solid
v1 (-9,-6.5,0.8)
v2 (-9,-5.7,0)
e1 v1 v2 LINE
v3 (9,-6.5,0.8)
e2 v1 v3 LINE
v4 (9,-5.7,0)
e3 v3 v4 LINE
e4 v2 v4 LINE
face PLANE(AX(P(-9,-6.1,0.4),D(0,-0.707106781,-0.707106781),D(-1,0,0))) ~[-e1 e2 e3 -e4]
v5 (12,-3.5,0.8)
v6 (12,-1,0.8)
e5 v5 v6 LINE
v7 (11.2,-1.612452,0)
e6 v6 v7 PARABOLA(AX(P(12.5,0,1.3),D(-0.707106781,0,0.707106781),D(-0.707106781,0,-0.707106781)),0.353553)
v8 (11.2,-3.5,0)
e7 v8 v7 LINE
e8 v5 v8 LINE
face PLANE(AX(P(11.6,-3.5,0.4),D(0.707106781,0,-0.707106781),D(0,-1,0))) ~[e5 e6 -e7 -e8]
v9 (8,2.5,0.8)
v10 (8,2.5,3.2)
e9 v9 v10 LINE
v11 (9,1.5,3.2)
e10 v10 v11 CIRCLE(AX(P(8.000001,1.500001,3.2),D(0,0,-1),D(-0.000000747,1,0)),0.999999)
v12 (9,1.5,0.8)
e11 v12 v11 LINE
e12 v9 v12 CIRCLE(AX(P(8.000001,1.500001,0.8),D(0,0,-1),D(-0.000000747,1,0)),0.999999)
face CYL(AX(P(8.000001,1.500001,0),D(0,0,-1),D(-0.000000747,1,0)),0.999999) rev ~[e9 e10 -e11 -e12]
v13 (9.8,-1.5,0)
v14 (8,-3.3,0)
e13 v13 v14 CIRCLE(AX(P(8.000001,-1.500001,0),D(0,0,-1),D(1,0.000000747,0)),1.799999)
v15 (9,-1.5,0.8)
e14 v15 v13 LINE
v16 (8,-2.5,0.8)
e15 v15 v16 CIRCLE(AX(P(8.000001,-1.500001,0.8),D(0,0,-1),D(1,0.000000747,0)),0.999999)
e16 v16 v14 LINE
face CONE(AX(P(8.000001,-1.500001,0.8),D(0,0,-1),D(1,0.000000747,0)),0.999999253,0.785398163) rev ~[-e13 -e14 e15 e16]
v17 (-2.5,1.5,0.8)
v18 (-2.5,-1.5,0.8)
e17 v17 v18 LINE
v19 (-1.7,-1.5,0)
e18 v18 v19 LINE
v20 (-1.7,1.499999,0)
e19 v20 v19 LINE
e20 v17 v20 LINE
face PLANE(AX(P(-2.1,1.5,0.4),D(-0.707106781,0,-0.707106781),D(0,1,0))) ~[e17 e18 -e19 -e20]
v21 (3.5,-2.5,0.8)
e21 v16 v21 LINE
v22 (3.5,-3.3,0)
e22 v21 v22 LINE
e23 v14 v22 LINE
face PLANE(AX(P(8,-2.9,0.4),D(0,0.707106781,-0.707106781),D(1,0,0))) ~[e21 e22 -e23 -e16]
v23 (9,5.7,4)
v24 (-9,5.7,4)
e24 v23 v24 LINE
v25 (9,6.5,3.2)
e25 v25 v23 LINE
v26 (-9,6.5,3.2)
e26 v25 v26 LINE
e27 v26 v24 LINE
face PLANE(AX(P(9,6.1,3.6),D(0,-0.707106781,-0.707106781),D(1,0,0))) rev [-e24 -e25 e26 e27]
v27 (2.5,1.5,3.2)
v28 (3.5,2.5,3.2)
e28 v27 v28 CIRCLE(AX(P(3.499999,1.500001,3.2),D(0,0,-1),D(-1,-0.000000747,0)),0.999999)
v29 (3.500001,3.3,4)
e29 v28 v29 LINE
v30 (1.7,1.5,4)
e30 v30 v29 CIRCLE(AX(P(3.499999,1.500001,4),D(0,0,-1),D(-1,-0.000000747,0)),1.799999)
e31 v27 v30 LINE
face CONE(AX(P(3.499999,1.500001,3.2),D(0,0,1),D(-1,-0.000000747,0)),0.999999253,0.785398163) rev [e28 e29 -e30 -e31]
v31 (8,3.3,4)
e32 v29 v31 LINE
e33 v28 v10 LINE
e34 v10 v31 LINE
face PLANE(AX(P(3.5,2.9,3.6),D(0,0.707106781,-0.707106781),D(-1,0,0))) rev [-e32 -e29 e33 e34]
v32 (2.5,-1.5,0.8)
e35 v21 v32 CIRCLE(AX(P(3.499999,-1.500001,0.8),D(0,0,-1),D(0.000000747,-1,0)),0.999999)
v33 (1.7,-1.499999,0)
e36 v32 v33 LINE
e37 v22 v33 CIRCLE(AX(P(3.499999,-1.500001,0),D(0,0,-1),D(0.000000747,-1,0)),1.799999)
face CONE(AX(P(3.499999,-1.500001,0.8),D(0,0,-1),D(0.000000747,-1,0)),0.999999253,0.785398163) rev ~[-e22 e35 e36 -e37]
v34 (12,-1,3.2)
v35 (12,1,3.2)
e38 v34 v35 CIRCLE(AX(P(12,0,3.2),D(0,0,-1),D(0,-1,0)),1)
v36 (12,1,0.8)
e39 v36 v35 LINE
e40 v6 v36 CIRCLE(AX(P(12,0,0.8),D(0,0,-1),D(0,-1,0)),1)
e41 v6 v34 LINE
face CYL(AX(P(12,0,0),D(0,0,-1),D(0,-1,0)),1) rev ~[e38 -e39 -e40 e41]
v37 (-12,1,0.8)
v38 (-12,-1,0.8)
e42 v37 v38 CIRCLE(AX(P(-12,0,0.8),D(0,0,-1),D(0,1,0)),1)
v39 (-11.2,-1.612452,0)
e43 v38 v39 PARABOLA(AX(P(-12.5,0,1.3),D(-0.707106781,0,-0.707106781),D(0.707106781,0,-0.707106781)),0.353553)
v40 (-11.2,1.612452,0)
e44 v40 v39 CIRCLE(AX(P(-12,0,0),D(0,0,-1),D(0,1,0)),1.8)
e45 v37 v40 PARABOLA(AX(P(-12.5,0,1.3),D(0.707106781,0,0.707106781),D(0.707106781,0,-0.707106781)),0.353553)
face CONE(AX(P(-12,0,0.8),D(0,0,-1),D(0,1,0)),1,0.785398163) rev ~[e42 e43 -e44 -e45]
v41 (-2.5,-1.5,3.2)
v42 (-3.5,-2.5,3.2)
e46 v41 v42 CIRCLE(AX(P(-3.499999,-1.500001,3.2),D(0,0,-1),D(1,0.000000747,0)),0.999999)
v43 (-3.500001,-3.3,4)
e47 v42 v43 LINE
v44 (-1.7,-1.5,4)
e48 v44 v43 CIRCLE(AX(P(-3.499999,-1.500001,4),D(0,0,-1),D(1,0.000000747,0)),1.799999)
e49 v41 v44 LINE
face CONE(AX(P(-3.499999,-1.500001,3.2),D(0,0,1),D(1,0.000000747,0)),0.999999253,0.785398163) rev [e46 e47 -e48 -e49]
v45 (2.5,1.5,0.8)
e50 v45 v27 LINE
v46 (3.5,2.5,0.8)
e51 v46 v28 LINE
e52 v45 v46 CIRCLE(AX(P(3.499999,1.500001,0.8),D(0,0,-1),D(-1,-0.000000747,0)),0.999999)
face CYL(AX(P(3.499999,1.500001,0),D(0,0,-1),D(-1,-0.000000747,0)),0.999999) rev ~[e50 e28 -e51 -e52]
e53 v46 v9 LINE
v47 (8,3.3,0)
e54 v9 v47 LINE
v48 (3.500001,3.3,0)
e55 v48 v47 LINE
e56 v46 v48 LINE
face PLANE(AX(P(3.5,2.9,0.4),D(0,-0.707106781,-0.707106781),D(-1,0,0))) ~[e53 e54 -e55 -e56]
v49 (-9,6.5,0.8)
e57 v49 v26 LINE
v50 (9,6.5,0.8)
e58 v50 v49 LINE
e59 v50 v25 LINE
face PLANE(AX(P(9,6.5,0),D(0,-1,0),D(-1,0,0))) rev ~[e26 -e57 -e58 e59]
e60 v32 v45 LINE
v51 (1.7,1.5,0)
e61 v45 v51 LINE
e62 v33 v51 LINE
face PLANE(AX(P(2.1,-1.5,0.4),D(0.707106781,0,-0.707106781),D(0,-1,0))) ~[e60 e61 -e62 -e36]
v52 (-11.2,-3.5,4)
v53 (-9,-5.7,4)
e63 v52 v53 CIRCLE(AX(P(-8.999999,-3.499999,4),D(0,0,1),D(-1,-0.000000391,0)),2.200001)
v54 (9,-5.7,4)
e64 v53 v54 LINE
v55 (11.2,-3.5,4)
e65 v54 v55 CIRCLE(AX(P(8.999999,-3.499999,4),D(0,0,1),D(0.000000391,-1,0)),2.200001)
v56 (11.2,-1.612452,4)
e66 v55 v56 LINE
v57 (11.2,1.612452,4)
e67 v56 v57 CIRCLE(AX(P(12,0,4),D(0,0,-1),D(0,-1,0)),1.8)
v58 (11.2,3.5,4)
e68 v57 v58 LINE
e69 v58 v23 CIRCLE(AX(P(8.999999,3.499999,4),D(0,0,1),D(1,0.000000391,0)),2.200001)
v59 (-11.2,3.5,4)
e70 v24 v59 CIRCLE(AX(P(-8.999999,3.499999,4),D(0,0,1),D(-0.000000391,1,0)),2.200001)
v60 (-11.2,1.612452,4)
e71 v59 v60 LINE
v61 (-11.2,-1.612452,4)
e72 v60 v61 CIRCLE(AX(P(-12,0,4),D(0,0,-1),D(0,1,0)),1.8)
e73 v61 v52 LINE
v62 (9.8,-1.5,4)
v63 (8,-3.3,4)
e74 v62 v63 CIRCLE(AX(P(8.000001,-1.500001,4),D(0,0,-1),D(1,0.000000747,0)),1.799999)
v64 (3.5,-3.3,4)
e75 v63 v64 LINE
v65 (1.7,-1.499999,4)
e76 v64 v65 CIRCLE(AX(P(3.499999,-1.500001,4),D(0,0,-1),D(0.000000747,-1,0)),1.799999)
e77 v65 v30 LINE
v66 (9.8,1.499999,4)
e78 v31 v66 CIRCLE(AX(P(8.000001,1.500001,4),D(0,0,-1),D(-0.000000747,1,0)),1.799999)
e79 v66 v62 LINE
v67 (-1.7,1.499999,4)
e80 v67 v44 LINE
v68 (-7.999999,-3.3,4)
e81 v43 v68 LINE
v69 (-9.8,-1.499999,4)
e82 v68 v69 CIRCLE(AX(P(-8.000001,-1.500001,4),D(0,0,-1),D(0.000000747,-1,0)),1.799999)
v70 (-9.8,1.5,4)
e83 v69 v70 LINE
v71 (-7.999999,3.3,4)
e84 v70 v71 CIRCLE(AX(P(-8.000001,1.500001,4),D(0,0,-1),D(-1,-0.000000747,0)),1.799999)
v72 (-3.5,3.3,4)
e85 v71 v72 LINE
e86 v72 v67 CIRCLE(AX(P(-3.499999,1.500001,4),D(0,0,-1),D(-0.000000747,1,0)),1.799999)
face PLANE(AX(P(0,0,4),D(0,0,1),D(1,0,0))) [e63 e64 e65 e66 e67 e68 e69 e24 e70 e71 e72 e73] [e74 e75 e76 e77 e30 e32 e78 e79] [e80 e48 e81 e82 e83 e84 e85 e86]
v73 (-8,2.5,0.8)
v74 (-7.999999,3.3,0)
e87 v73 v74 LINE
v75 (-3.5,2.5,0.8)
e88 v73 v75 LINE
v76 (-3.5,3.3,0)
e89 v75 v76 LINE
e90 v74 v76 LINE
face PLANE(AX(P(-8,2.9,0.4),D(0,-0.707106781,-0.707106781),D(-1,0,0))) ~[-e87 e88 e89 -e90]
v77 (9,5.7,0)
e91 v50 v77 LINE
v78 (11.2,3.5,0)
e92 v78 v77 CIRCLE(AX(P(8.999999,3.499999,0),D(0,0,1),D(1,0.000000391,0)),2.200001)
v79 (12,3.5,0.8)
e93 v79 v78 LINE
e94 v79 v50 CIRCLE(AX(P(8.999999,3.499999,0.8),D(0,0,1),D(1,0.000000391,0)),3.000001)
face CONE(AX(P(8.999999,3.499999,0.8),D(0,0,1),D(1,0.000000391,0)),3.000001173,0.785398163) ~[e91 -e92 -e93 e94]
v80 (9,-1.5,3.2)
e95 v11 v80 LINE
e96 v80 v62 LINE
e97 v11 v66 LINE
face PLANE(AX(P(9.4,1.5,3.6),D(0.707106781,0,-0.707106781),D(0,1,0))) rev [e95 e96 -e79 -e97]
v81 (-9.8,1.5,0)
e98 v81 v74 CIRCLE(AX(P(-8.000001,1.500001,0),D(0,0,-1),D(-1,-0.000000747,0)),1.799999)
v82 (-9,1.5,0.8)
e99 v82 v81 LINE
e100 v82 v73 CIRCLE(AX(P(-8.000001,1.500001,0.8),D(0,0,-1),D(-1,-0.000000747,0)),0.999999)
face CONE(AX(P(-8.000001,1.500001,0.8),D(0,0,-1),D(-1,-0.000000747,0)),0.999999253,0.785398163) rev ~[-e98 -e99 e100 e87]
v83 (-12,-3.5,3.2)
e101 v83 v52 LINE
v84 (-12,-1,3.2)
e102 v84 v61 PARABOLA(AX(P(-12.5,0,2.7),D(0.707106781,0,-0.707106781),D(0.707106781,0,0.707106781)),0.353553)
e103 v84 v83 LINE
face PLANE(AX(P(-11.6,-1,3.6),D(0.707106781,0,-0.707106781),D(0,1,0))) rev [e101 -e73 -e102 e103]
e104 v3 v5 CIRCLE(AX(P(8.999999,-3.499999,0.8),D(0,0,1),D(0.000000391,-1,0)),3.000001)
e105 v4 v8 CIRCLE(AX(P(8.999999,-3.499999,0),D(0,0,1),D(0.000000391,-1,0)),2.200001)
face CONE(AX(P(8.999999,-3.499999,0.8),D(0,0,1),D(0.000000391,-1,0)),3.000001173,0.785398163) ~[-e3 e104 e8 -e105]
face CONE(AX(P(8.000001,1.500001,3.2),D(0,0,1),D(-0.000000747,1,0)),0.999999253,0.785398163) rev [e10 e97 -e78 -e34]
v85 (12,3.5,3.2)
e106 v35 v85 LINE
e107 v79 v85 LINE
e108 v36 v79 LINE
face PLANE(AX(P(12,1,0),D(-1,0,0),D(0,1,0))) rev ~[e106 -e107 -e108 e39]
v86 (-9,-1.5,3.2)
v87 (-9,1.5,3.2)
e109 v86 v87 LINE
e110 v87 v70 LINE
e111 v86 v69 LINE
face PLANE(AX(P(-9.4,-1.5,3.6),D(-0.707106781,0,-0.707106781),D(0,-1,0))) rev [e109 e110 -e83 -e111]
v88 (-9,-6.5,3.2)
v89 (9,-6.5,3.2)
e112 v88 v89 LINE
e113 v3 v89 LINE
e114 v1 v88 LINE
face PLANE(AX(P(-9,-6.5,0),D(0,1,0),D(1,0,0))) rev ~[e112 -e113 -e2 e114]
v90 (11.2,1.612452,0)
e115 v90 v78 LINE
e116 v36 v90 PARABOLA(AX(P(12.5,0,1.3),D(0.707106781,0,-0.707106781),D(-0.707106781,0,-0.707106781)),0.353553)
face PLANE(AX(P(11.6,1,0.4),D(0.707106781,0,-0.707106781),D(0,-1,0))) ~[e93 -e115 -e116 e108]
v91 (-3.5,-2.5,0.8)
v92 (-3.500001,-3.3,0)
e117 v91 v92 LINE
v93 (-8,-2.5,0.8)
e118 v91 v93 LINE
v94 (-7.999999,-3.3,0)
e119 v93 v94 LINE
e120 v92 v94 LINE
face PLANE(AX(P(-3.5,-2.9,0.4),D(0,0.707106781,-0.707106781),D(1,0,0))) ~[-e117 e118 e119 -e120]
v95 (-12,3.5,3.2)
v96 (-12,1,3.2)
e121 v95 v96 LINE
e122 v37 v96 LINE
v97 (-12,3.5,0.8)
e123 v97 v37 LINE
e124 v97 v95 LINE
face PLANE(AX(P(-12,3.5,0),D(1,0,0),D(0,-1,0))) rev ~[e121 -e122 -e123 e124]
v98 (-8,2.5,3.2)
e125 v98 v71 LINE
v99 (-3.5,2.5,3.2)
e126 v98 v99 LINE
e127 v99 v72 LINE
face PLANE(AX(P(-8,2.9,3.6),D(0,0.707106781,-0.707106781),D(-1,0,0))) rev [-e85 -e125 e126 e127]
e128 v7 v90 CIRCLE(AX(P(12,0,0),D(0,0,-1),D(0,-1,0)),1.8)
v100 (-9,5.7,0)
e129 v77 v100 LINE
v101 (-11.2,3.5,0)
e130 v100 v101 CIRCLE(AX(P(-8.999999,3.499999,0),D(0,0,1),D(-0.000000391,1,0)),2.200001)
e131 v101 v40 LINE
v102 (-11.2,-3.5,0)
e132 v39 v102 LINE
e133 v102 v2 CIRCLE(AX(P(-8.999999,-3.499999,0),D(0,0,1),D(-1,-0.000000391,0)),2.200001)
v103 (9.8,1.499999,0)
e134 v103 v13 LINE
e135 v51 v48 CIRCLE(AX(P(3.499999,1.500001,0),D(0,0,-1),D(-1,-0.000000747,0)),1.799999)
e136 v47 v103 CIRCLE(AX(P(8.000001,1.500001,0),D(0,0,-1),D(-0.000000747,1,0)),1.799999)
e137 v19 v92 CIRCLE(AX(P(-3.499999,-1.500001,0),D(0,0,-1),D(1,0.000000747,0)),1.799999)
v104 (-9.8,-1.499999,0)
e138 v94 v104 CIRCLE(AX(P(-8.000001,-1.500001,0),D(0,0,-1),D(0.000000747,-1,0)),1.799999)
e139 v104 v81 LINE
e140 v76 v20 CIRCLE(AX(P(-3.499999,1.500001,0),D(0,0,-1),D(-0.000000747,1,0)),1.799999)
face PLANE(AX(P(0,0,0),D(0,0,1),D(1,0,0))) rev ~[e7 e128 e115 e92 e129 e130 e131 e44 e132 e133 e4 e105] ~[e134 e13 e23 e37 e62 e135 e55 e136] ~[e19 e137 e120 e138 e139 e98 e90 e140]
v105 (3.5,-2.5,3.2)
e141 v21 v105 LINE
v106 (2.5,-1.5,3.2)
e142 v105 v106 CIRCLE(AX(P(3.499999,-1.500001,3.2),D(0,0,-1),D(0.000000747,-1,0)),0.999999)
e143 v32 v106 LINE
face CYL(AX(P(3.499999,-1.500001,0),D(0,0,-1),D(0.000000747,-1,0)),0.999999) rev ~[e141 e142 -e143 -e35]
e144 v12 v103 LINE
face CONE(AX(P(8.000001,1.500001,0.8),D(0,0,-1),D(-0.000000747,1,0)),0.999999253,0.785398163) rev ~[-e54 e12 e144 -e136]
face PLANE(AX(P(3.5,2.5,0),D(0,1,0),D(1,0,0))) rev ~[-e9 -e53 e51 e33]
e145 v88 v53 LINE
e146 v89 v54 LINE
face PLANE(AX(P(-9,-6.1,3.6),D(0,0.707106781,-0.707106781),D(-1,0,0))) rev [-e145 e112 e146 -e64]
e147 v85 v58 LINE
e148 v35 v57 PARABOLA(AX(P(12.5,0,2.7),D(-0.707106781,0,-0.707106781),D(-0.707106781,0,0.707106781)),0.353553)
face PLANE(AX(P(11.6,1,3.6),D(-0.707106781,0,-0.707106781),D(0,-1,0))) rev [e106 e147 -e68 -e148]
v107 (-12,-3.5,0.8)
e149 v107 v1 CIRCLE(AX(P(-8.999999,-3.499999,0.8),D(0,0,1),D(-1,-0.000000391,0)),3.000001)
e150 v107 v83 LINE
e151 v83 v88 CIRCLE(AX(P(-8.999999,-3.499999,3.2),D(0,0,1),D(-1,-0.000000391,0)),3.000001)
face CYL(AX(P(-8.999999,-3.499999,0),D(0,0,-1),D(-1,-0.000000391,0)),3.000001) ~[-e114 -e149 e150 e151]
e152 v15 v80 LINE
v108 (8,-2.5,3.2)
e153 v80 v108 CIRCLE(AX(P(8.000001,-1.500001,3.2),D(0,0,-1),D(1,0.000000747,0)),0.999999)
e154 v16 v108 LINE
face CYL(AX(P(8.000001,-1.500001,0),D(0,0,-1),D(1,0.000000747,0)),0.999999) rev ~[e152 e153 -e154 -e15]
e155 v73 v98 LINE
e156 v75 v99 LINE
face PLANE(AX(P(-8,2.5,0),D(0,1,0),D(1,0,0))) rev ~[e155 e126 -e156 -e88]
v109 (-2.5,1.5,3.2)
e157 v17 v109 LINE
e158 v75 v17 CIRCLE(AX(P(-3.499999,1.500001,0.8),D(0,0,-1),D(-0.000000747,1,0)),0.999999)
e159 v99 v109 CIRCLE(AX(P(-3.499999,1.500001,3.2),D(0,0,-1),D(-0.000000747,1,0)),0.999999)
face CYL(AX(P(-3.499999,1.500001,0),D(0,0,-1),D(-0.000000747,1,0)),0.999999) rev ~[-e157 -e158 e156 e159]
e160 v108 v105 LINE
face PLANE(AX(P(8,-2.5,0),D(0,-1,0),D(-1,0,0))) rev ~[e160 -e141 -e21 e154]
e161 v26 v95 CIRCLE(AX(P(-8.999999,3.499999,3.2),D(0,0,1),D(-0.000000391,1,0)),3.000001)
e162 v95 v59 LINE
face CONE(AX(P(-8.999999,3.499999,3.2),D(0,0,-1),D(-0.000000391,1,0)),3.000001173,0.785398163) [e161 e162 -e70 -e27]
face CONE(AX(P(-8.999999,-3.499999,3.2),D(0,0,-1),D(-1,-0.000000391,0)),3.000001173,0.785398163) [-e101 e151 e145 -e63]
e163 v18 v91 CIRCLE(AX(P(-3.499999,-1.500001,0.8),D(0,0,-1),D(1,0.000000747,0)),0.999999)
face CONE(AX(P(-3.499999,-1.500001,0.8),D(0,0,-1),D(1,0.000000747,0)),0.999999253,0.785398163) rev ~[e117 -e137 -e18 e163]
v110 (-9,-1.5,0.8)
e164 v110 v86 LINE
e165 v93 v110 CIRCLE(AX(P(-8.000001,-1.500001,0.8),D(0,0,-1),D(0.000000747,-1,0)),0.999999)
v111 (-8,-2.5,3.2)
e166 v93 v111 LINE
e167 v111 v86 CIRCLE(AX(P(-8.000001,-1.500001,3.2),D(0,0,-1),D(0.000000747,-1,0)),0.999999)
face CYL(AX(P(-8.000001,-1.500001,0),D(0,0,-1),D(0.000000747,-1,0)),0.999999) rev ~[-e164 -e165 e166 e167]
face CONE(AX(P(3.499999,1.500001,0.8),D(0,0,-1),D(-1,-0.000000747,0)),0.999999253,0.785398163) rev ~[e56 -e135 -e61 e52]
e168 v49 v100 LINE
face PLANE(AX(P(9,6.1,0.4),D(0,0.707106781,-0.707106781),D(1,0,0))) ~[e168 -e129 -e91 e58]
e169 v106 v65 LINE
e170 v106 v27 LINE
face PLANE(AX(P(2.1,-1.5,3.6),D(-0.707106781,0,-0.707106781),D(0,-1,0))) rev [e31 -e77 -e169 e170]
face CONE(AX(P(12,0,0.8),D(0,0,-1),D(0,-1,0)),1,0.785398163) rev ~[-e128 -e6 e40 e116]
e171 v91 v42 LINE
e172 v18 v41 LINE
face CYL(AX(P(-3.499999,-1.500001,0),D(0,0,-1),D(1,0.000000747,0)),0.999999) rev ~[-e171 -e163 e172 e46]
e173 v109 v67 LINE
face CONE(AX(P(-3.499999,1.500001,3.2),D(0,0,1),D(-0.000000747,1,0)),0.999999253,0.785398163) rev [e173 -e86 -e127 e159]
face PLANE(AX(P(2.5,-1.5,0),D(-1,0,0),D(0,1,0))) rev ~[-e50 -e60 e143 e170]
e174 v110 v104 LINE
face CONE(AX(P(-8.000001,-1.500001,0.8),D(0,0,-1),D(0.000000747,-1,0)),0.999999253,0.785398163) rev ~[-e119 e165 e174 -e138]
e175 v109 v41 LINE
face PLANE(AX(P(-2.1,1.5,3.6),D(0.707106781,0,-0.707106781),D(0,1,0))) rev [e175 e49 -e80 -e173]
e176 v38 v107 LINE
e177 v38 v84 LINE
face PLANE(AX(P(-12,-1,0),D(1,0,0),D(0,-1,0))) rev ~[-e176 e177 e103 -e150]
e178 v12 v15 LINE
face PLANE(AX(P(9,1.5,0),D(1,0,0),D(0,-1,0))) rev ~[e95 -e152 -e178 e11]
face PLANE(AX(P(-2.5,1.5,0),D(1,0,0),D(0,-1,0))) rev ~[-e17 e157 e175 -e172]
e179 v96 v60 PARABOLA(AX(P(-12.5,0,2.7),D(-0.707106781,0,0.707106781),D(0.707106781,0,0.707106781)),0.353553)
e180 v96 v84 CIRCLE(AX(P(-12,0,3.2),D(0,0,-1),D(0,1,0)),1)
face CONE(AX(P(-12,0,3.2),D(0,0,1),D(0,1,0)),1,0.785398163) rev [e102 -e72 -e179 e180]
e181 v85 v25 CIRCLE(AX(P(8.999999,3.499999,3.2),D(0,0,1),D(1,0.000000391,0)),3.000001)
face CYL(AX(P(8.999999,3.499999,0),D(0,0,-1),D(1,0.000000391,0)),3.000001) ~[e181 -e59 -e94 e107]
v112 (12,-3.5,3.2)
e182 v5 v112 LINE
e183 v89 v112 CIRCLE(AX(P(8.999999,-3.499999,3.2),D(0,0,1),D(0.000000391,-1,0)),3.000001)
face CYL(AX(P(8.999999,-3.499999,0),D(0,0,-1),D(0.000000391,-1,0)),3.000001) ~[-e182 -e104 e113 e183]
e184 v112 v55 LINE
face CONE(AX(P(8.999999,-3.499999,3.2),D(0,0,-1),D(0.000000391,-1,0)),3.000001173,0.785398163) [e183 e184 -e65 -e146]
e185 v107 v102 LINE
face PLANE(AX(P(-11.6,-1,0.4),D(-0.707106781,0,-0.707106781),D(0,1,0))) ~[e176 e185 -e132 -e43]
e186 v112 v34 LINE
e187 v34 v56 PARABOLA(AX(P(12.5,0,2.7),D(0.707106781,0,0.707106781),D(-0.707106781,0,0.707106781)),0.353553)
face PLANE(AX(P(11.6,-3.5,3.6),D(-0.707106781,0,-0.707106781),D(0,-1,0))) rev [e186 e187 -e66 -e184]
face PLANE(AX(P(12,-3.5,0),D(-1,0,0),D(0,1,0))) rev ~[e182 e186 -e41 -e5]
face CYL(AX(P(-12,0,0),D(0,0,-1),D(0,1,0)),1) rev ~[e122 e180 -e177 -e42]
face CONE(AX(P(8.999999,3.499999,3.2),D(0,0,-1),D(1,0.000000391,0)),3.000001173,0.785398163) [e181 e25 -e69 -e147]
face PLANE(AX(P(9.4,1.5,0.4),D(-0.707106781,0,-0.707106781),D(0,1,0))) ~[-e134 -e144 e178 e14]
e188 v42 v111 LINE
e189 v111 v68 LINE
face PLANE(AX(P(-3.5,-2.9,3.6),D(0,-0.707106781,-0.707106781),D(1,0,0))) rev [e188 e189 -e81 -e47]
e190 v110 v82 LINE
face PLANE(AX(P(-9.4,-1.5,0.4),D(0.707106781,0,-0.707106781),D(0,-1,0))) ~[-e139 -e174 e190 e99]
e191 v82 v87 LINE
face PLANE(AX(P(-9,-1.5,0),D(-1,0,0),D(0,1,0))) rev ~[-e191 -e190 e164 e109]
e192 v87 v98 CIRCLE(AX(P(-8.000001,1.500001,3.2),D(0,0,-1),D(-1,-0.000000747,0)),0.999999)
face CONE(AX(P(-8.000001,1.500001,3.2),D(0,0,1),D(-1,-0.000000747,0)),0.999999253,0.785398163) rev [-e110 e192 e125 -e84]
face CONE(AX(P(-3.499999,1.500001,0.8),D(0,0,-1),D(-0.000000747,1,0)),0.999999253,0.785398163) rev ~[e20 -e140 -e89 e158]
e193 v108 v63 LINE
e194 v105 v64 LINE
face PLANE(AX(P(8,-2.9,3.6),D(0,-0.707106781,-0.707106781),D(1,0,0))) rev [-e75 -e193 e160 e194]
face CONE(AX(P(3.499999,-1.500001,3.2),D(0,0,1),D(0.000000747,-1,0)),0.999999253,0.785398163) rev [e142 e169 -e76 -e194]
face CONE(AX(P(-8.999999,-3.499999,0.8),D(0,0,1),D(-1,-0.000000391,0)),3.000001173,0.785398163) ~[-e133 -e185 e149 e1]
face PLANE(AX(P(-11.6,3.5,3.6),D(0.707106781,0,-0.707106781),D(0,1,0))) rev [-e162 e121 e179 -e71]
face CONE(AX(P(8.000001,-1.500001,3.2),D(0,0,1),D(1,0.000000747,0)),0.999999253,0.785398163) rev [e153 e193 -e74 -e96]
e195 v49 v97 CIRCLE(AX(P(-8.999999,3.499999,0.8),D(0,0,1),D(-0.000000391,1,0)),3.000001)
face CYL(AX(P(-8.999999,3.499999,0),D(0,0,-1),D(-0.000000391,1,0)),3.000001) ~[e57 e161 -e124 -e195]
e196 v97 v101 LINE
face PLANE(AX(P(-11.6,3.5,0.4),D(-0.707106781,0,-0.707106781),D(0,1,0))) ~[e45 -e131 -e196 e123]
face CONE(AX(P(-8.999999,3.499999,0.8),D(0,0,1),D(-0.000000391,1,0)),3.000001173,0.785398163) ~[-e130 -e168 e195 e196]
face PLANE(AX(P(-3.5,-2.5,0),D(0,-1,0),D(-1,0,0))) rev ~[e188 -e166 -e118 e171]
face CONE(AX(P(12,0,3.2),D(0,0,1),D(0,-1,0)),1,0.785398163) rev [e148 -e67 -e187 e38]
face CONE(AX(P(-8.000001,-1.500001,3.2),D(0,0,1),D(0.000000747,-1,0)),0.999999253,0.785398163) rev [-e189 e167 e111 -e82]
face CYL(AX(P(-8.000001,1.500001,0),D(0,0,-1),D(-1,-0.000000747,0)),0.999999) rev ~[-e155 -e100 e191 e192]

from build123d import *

# Parameters (mm, degrees)
F1_DEPTH = 4
F2_SIZE  = 0.8


with BuildPart() as f1:
    # F0 (on Top) → F1 (new body)
    with BuildSketch(Plane.XY):
        with BuildLine():
            Line((9, 6.5), (-9, 6.5))
            ThreePointArc((-9, 6.5), (-11.12132, 5.62132), (-12, 3.5))
            Line((-12, 3.5), (-12, 1))
            ThreePointArc((-12, 1), (-11, 0), (-12, -1))
            Line((-12, -1), (-12, -3.5))
            ThreePointArc((-12, -3.5), (-11.12132, -5.62132), (-9, -6.5))
            Line((-9, -6.5), (9, -6.5))
            ThreePointArc((9, -6.5), (11.12132, -5.62132), (12, -3.5))
            Line((12, -3.5), (12, -1))
            ThreePointArc((12, -1), (11, 0), (12, 1))
            Line((12, 1), (12, 3.5))
            ThreePointArc((12, 3.5), (11.12132, 5.62132), (9, 6.5))
        make_face()
        with BuildLine():
            ThreePointArc((-9, 1.5), (-8.707107, 2.207107), (-8, 2.5))
            Line((-8, 2.5), (-3.5, 2.5))
            ThreePointArc((-3.5, 2.5), (-2.792893, 2.207107), (-2.5, 1.5))
            Line((-2.5, 1.5), (-2.5, -1.5))
            ThreePointArc((-2.5, -1.5), (-2.792893, -2.207107), (-3.5, -2.5))
            Line((-3.5, -2.5), (-8, -2.5))
            ThreePointArc((-8, -2.5), (-8.707107, -2.207107), (-9, -1.5))
            Line((-9, -1.5), (-9, 1.5))
        make_face(mode=Mode.SUBTRACT)
        with BuildLine():
            Line((8, -2.5), (3.5, -2.5))
            ThreePointArc((3.5, -2.5), (2.792893, -2.207107), (2.5, -1.5))
            Line((2.5, -1.5), (2.5, 1.5))
            ThreePointArc((2.5, 1.5), (2.792893, 2.207107), (3.5, 2.5))
            Line((3.5, 2.5), (8, 2.5))
            ThreePointArc((8, 2.5), (8.707107, 2.207107), (9, 1.5))
            Line((9, 1.5), (9, -1.5))
            ThreePointArc((9, -1.5), (8.707107, -2.207107), (8, -2.5))
        make_face(mode=Mode.SUBTRACT)
    extrude(amount=F1_DEPTH)

    # F2
    f2_edges = [f1.edges().sort_by_distance(p)[0] for p in [
        (0, 6.5, 4),
        (-11.12132, 5.62132, 4),
        (-12, 2.25, 4),
        (-11, 0, 4),
        (-12, -2.25, 4),
        (-11.12132, -5.62132, 4),
        (0, -6.5, 4),
        (11.12132, -5.62132, 4),
        (12, -2.25, 4),
        (11, 0, 4),
        (12, 2.25, 4),
        (11.12132, 5.62132, 4),
        (-8.707107, -2.207107, 4),
        (-9, 0, 4),
        (-8.707107, 2.207107, 4),
        (-5.75, 2.5, 4),
        (-2.792893, 2.207107, 4),
        (-2.5, 0, 4),
        (-2.792893, -2.207107, 4),
        (-5.75, -2.5, 4),
        (5.75, -2.5, 4),
        (2.792893, -2.207107, 4),
        (2.5, 0, 4),
        (2.792893, 2.207107, 4),
        (5.75, 2.5, 4),
        (8.707107, 2.207107, 4),
        (9, 0, 4),
        (8.707107, -2.207107, 4),
        (0, 6.5, 0),
        (-11.12132, 5.62132, 0),
        (-12, 2.25, 0),
        (-11, 0, 0),
        (-12, -2.25, 0),
        (-11.12132, -5.62132, 0),
        (0, -6.5, 0),
        (11.12132, -5.62132, 0),
        (12, -2.25, 0),
        (11, 0, 0),
        (12, 2.25, 0),
        (11.12132, 5.62132, 0),
        (-8.707107, -2.207107, 0),
        (-9, 0, 0),
        (-8.707107, 2.207107, 0),
        (-5.75, 2.5, 0),
        (-2.792893, 2.207107, 0),
        (-2.5, 0, 0),
        (-2.792893, -2.207107, 0),
        (-5.75, -2.5, 0),
        (5.75, -2.5, 0),
        (2.792893, -2.207107, 0),
        (2.5, 0, 0),
        (2.792893, 2.207107, 0),
        (5.75, 2.5, 0),
        (8.707107, 2.207107, 0),
        (9, 0, 0),
        (8.707107, -2.207107, 0),
    ]]
    chamfer(f2_edges, length=F2_SIZE)


solid = f1.part
